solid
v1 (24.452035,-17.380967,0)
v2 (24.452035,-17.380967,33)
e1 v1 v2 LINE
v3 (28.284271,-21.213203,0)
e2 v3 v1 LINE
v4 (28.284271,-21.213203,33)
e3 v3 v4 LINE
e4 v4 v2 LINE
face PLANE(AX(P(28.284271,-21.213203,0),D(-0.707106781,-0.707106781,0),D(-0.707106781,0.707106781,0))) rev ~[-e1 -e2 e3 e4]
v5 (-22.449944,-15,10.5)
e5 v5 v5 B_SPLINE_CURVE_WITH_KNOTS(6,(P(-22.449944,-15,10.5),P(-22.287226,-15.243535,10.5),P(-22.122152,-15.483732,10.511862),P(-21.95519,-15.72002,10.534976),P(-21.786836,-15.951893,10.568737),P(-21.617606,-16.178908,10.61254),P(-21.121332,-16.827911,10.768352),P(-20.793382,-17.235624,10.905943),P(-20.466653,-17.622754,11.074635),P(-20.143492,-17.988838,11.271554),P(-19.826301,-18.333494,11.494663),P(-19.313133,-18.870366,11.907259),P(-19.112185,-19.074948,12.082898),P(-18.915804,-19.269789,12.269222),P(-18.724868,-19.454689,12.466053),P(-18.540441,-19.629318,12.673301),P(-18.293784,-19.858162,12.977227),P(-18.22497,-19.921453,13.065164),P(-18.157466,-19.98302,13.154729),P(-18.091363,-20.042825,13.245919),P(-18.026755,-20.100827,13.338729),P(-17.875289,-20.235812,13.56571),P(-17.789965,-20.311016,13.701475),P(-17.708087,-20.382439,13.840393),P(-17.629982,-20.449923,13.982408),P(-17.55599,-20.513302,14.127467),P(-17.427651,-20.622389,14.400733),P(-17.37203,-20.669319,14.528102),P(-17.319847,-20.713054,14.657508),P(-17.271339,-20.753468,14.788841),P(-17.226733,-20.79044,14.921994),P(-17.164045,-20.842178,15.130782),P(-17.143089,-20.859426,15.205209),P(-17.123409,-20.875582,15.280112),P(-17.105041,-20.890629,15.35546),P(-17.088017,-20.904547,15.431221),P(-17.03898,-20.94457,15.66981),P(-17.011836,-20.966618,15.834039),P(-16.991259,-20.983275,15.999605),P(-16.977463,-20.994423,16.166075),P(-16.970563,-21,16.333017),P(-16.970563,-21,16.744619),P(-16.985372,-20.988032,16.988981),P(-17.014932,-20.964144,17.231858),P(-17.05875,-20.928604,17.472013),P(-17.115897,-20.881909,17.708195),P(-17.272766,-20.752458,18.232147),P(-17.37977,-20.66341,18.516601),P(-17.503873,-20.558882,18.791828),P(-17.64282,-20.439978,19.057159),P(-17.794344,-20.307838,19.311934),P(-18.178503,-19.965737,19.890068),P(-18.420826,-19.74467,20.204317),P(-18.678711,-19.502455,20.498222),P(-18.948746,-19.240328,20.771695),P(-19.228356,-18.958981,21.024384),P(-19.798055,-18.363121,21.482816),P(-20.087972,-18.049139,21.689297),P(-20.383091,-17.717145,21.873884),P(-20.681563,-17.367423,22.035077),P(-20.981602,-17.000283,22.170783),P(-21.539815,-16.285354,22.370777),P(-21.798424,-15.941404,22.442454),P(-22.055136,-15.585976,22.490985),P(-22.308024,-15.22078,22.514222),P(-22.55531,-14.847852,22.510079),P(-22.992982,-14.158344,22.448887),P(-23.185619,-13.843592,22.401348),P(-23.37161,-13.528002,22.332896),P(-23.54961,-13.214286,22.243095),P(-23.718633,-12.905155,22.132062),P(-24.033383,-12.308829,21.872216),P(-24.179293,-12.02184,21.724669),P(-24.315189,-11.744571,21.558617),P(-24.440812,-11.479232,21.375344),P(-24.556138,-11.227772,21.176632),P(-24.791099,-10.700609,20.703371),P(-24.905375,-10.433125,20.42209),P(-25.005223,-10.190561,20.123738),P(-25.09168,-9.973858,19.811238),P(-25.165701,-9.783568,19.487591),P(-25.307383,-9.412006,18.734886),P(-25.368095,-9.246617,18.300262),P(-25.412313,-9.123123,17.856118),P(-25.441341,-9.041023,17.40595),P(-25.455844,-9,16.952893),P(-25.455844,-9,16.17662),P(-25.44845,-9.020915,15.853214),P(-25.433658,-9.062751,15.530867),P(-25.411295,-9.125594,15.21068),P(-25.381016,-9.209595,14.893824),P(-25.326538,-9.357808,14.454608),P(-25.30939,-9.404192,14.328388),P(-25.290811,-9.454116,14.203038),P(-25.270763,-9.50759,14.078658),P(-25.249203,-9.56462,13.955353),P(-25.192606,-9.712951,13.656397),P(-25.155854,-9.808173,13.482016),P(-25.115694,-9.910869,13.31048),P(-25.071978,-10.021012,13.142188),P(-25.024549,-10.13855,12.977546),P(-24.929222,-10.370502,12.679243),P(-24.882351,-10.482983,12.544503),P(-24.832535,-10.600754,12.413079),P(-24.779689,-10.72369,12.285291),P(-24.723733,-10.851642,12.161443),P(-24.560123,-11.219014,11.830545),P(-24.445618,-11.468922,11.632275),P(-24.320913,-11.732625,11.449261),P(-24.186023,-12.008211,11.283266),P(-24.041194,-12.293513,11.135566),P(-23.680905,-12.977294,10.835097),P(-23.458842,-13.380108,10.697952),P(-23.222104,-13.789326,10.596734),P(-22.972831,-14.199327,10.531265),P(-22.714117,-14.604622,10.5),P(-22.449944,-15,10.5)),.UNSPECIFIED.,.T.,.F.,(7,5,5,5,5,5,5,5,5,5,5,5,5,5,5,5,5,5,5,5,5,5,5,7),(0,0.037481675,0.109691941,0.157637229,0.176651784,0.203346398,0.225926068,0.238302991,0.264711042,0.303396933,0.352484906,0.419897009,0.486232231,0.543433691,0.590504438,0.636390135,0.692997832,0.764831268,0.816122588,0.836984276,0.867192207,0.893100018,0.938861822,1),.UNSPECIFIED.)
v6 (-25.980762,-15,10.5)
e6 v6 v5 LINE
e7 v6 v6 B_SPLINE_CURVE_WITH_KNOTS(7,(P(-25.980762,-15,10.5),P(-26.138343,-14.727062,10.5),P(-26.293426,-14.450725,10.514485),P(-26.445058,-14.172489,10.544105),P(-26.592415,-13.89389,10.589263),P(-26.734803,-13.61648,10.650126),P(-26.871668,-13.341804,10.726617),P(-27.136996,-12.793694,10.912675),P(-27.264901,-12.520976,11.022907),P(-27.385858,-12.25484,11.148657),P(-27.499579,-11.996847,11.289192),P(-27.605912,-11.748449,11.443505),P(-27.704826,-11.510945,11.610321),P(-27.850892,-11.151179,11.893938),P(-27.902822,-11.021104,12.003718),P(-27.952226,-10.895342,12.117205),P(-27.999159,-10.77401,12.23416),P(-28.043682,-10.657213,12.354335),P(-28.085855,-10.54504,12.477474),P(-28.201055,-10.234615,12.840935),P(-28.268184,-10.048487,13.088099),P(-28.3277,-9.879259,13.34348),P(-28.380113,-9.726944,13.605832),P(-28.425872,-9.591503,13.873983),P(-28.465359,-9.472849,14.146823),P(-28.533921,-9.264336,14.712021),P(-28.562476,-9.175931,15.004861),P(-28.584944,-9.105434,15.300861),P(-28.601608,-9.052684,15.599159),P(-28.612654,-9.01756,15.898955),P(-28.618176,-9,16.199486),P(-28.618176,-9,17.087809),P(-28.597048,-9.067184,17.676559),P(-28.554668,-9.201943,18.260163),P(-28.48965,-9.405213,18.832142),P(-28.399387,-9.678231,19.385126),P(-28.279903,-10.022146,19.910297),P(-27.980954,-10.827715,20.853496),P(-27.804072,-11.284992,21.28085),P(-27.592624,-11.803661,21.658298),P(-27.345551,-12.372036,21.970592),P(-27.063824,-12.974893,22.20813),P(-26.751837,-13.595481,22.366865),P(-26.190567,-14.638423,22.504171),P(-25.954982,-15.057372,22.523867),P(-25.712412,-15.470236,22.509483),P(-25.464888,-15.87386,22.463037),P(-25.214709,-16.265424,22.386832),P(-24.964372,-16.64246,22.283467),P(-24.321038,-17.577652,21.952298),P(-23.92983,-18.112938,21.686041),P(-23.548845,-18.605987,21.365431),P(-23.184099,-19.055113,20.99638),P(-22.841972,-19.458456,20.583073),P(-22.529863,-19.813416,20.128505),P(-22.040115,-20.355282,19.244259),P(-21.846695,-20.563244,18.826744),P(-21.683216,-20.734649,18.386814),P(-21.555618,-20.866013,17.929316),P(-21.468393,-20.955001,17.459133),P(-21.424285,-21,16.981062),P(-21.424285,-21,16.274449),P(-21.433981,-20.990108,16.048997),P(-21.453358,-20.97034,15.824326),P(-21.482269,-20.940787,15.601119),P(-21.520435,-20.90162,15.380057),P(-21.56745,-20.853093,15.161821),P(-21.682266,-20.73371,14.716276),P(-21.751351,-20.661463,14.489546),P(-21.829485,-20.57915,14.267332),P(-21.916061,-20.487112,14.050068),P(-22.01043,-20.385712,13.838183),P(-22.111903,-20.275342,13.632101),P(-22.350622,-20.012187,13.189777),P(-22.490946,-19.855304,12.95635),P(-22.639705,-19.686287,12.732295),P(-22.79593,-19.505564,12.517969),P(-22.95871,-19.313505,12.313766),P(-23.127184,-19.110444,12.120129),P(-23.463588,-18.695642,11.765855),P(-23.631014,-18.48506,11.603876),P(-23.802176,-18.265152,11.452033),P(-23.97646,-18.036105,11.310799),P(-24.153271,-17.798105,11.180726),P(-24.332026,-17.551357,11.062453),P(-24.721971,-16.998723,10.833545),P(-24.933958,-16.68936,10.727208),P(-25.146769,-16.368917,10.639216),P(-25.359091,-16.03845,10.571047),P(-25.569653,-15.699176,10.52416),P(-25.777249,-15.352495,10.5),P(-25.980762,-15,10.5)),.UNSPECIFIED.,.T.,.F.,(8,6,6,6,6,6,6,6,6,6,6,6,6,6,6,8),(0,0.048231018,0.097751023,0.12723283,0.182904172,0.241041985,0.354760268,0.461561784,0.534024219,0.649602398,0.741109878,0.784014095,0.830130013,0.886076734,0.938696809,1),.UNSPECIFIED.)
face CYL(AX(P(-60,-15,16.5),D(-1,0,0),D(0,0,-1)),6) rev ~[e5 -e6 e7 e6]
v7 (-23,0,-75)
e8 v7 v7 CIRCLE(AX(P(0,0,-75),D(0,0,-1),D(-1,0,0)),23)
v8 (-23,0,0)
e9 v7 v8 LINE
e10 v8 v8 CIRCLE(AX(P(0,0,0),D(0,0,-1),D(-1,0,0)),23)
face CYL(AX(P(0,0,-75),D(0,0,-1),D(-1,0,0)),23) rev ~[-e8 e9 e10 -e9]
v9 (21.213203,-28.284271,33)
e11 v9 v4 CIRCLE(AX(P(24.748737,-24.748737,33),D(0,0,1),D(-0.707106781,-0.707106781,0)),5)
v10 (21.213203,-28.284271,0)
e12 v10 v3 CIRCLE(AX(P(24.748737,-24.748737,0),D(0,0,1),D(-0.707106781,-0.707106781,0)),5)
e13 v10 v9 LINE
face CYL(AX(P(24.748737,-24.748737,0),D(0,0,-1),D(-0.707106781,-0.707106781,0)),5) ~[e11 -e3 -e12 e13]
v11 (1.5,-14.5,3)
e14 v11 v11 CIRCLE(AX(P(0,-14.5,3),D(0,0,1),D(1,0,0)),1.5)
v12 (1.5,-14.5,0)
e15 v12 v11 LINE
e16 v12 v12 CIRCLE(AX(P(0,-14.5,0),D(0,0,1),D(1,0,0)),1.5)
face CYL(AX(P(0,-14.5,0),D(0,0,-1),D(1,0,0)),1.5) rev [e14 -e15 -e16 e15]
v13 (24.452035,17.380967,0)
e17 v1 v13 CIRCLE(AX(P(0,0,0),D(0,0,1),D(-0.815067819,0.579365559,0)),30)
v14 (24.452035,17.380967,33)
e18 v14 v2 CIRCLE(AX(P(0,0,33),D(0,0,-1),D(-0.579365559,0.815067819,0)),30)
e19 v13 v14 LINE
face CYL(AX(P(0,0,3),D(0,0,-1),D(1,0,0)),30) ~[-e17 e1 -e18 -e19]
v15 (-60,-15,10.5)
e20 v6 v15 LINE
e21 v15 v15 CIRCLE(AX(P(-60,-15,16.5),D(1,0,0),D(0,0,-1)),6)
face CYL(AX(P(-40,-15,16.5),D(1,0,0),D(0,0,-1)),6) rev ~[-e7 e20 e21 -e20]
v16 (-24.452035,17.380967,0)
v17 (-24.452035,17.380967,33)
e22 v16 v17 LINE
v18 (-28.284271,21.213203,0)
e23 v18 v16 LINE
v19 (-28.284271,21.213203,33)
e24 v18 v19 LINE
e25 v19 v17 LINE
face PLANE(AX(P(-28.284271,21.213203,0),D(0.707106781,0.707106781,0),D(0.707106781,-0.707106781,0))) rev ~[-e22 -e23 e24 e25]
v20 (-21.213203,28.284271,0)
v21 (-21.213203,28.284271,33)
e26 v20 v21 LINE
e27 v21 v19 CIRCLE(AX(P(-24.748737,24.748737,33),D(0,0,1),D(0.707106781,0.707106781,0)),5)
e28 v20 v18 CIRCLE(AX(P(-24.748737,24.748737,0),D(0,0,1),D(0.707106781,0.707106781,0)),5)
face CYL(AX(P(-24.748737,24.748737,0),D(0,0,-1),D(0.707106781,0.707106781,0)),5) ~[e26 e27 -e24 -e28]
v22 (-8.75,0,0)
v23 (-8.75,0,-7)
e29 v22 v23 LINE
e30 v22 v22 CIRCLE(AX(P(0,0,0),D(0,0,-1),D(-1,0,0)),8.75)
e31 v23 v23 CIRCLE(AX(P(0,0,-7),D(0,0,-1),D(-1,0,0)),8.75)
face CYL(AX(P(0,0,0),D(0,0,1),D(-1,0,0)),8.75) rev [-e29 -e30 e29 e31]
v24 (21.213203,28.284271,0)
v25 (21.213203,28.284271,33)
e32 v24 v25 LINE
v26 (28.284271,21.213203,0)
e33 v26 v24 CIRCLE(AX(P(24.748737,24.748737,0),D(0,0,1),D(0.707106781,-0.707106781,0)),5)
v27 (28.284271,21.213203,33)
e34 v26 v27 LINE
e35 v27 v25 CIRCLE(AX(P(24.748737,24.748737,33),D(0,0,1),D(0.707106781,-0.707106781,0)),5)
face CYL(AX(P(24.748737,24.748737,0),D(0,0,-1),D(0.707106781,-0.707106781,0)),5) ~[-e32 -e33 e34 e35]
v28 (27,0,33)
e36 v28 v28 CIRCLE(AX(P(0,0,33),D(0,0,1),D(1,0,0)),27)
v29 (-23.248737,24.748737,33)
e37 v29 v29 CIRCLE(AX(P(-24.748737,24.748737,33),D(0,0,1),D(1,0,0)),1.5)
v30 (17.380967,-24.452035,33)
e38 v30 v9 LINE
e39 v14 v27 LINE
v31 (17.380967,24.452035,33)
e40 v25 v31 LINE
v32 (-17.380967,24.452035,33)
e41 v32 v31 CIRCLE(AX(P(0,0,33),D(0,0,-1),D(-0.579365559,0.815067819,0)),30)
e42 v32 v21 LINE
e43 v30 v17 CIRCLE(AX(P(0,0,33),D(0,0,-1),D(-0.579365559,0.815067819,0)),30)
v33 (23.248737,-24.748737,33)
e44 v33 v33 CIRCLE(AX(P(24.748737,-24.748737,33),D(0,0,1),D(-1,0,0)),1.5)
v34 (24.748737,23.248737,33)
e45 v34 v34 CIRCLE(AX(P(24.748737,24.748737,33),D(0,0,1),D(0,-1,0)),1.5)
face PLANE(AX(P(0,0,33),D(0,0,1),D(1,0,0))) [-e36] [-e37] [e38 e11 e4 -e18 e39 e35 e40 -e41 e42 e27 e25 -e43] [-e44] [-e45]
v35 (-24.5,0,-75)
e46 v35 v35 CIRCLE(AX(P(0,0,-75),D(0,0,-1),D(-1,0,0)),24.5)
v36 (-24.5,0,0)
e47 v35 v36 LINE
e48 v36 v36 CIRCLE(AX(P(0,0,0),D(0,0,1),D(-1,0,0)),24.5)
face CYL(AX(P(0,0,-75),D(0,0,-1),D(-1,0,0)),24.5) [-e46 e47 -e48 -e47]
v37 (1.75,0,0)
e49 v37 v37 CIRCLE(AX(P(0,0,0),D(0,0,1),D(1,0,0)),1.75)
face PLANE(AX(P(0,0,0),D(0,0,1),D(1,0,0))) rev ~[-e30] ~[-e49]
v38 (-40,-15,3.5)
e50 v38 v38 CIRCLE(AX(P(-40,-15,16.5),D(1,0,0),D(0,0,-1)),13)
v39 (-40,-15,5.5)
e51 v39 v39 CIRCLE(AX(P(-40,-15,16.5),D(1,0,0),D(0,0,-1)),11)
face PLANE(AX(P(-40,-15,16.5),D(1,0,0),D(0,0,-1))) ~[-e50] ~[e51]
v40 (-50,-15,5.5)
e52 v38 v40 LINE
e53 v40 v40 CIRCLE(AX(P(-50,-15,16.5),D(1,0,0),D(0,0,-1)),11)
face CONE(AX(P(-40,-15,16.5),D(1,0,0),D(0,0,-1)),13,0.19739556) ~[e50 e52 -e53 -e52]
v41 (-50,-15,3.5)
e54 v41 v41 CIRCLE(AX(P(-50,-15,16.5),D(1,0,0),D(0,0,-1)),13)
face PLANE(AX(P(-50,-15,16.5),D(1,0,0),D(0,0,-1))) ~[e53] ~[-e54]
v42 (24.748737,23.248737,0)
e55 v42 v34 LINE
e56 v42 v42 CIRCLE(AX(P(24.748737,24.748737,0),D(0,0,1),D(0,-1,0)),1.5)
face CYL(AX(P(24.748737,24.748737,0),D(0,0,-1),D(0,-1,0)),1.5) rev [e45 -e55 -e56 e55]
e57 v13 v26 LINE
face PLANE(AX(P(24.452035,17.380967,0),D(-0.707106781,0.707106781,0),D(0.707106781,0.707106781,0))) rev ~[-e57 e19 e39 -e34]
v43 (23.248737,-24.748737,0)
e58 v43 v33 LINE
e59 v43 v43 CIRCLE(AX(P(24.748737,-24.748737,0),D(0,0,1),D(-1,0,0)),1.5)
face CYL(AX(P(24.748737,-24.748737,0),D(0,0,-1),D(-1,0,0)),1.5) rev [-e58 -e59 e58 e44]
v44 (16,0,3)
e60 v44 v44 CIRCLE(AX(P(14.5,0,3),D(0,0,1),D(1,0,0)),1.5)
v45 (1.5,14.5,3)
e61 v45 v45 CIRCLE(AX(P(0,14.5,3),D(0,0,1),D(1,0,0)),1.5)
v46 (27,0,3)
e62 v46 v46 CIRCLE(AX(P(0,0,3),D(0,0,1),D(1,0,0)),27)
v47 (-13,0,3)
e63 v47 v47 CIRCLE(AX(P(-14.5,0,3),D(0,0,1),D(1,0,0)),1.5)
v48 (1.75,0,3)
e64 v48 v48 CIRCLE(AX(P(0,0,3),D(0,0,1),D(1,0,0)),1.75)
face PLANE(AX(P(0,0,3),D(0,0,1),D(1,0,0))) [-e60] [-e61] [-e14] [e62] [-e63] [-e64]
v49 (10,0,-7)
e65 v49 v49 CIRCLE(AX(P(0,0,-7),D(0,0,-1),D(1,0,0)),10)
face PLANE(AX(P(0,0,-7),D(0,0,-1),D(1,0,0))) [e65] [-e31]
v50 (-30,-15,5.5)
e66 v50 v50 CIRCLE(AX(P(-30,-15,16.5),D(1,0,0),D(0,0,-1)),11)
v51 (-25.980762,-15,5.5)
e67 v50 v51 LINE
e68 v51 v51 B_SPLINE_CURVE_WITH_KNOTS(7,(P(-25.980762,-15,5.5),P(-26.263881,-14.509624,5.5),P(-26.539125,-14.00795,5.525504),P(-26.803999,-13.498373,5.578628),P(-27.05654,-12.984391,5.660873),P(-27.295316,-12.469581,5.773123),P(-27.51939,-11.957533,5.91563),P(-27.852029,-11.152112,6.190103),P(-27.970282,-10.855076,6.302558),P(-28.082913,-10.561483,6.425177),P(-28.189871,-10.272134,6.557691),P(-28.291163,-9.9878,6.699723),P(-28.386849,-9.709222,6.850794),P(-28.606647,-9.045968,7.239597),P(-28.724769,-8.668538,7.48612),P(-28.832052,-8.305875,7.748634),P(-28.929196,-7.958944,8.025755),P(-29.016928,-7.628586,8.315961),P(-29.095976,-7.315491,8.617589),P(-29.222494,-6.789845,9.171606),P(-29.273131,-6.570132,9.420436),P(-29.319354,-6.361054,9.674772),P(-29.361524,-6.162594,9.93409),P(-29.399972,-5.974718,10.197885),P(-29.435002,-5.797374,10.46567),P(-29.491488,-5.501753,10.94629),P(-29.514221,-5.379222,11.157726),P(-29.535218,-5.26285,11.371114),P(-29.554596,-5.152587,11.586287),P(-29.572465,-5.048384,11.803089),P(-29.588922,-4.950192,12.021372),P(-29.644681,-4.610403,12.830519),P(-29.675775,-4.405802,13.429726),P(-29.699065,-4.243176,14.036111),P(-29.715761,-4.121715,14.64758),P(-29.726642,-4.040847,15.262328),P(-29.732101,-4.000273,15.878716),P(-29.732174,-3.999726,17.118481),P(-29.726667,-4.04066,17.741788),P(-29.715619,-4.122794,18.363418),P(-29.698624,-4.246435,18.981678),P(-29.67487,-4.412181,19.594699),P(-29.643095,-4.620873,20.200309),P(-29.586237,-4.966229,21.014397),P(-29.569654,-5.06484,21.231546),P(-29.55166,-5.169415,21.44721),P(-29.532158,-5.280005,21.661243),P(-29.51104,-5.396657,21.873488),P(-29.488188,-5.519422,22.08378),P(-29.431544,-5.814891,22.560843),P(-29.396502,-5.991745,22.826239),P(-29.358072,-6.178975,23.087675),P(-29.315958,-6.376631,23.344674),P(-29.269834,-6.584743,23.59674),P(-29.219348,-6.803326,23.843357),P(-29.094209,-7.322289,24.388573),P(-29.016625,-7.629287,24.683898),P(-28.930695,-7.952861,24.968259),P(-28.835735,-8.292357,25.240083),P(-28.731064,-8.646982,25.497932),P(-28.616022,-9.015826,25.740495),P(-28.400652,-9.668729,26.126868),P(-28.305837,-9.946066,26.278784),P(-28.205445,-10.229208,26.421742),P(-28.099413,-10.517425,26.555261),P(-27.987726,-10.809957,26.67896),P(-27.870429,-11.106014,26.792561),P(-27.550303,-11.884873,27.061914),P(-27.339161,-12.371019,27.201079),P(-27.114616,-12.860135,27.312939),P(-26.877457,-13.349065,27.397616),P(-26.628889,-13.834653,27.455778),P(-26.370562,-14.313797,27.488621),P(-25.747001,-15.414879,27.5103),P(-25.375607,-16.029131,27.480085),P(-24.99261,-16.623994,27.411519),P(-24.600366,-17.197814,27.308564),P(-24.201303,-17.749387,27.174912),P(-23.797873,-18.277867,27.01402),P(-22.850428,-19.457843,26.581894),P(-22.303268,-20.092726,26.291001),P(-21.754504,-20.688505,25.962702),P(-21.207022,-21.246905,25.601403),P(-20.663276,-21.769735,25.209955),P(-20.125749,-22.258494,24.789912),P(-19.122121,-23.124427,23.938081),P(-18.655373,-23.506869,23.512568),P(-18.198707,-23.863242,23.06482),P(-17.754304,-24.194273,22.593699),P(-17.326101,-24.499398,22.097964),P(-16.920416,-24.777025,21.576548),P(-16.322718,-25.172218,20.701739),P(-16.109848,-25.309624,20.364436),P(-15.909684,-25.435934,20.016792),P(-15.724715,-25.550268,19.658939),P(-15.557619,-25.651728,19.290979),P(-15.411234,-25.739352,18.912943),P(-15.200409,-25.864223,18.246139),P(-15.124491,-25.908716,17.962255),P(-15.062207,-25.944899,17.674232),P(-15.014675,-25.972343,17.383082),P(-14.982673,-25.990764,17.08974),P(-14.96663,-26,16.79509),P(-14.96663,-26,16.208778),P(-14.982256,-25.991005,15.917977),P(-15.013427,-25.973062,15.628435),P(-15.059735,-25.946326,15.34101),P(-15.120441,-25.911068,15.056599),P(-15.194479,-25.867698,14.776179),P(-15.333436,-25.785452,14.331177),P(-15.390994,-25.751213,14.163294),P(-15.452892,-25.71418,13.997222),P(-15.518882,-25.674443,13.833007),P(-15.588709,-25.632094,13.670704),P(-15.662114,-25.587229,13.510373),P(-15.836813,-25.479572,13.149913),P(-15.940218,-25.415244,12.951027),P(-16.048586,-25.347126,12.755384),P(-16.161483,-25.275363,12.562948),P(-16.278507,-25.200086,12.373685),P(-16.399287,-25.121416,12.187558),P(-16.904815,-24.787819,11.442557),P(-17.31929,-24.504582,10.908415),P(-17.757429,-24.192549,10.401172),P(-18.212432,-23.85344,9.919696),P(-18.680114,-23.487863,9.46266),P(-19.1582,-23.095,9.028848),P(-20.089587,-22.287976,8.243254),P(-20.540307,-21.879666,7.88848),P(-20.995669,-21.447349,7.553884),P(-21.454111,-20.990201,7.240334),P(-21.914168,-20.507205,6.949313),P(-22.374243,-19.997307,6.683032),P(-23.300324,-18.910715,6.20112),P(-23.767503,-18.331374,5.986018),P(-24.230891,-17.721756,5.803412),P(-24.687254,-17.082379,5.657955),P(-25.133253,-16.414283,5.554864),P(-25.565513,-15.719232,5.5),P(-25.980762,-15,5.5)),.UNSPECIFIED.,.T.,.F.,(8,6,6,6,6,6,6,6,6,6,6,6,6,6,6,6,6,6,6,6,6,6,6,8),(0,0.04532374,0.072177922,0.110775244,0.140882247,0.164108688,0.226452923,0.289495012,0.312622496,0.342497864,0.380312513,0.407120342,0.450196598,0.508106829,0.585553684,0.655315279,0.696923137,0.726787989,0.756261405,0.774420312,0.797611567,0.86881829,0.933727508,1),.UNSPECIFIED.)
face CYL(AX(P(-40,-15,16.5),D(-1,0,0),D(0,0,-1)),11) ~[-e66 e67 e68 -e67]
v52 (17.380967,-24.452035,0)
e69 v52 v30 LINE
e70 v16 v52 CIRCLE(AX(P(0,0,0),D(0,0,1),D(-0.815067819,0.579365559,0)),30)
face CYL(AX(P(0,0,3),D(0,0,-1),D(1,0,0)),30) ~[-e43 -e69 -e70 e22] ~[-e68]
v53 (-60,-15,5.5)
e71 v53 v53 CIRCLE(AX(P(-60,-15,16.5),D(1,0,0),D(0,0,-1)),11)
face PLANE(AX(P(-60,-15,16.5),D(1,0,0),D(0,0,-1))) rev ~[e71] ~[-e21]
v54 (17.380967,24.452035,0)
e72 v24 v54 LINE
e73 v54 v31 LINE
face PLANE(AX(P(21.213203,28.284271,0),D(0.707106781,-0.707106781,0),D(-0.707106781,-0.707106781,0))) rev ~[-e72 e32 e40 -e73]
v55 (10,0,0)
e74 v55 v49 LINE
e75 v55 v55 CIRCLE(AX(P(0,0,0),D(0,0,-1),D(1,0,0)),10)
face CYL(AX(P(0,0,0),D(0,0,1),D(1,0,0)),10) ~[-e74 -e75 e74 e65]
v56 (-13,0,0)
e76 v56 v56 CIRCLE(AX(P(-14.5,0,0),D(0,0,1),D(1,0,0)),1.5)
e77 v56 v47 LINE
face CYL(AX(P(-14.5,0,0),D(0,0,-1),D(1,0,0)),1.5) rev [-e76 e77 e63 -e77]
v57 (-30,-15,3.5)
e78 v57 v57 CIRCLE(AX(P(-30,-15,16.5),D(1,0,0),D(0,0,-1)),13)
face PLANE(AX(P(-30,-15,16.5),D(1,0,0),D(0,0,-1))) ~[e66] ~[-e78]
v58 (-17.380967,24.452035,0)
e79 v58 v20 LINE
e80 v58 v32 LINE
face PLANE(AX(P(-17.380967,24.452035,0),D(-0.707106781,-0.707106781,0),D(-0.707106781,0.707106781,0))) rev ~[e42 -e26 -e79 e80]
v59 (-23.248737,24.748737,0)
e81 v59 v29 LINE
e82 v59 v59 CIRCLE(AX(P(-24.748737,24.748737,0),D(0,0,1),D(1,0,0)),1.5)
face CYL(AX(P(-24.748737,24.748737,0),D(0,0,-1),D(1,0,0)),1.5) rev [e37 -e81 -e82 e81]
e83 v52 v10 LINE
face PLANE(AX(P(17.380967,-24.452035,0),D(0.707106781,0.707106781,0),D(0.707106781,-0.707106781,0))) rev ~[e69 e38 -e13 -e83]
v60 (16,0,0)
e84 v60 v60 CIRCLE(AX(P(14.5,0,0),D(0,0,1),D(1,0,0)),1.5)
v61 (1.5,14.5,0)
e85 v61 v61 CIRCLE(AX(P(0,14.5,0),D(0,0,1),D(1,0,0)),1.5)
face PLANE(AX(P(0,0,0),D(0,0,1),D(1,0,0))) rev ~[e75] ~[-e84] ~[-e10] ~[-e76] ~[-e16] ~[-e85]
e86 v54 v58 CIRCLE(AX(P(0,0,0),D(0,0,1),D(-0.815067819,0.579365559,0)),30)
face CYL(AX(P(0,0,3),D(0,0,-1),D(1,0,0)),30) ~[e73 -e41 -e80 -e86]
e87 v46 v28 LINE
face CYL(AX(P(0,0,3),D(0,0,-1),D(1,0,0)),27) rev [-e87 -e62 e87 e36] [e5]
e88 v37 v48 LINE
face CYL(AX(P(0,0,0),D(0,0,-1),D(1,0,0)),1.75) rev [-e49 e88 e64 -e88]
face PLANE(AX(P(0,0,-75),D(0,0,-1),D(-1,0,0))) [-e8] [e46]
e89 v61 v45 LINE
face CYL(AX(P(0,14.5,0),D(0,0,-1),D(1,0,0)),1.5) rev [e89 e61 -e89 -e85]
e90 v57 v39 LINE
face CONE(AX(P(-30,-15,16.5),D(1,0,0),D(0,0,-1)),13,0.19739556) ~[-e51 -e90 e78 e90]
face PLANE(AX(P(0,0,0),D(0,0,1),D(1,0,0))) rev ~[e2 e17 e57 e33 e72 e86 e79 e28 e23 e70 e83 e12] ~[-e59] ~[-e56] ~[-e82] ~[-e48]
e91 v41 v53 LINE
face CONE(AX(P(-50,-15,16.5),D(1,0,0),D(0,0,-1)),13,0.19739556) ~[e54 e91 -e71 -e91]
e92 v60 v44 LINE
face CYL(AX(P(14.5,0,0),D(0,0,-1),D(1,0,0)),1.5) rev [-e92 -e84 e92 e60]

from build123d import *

# Parameters (mm, degrees)
SKETCH1_R                       = 24.5
SKETCH1_R_2                     = 1.5
SKETCH1_R_3                     = 1.75
BOSS_EXTRUDE1_DEPTH             = 3
SKETCH2_R                       = 10
SKETCH2_R_2                     = 8.75
BOSS_EXTRUDE2_DEPTH             = 7
BOSS_EXTRUDE3_START             = 75
SKETCH3_R                       = 24.5
SKETCH3_R_2                     = 23
BOSS_EXTRUDE3_DEPTH             = 75
BOSS_EXTRUDE4_START             = -3
SKETCH4_R                       = 30
SKETCH4_R_2                     = 24.5
BOSS_EXTRUDE4_DEPTH             = 3
SKETCH5_R                       = 30
SKETCH5_R_2                     = 27
BOSS_EXTRUDE5_DEPTH             = 30
BOSS_EXTRUDE6_REACH             = 108.888
BOSS_EXTRUDE6_END_RADIUS        = 30
SKETCH6_R                       = 11
SKETCH6_R_2                     = 6
BOSS_EXTRUDE6_DIRECTION_2_DEPTH = 20
CUT_EXTRUDE1_REACH              = 122.934
SKETCH9_R                       = 6
SKETCH11_R                      = 1.5
BOSS_EXTRUDE7_DEPTH             = 33
CIRPATTERN1_COUNT               = 3
CIRPATTERN1_ANGLE               = 180


with BuildPart() as part:
    # Sketch1 → Boss-Extrude1 (new body)
    with BuildSketch(Plane.XY):
        Circle(SKETCH1_R)
        with Locations((14.5, 0)):
            Circle(SKETCH1_R_2, mode=Mode.SUBTRACT)
        with Locations((0, -14.5)):
            Circle(SKETCH1_R_2, mode=Mode.SUBTRACT)
        with Locations((-14.5, 0)):
            Circle(SKETCH1_R_2, mode=Mode.SUBTRACT)
        with Locations((0, 14.5)):
            Circle(SKETCH1_R_2, mode=Mode.SUBTRACT)
        Circle(SKETCH1_R_3, mode=Mode.SUBTRACT)
    extrude(amount=BOSS_EXTRUDE1_DEPTH)

    # Sketch2 → Boss-Extrude2 (add)
    with BuildSketch(Plane(origin=(0, 0, 0), x_dir=(-1, 0, 0), z_dir=(0, 0, -1))):
        with Locations(Location((0, 0, 0), (0, 0, 180))):
            Circle(SKETCH2_R)
        Circle(SKETCH2_R_2, mode=Mode.SUBTRACT)
    extrude(amount=BOSS_EXTRUDE2_DEPTH)

    # Sketch3 → Boss-Extrude3 (add)
    with BuildSketch(Plane(origin=(0, 0, 0), x_dir=(-1, 0, 0), z_dir=(0, 0, -1)).offset(BOSS_EXTRUDE3_START)):
        Circle(SKETCH3_R)
        Circle(SKETCH3_R_2, mode=Mode.SUBTRACT)
    extrude(amount=-BOSS_EXTRUDE3_DEPTH)

    # Sketch4 → Boss-Extrude4 (add)
    with BuildSketch(Plane.XY.offset(3).offset(BOSS_EXTRUDE4_START)):
        Circle(SKETCH4_R)
        with Locations(Location((0, 0, 0), (0, 0, 180))):
            Circle(SKETCH4_R_2, mode=Mode.SUBTRACT)
    extrude(amount=BOSS_EXTRUDE4_DEPTH)

    # Sketch5 → Boss-Extrude5 (add)
    with BuildSketch(Plane.XY.offset(3)):
        Circle(SKETCH5_R)
        Circle(SKETCH5_R_2, mode=Mode.SUBTRACT)
    extrude(amount=BOSS_EXTRUDE5_DEPTH)

    # Boss-Extrude6: up to this cylinder (the profile starts outside it)
    boss_extrude6_end = Plane(origin=(0, 0, 27.188873), z_dir=(0, 0, 1)) * Cylinder(BOSS_EXTRUDE6_END_RADIUS, 278.776, mode=Mode.PRIVATE)
    # Sketch6 → Boss-Extrude6 (add, up to the surface)
    with BuildSketch(Plane(origin=(-40, 0, 0), x_dir=(0, 0, -1), z_dir=(1, 0, 0)), mode=Mode.PRIVATE) as boss_extrude6_sk1:
        with Locations((-16.5, -15)):
            Circle(SKETCH6_R)
        with Locations((-16.5, -15)):
            Circle(SKETCH6_R_2, mode=Mode.SUBTRACT)
    boss_extrude6_tool1 = extrude(boss_extrude6_sk1.sketch, amount=BOSS_EXTRUDE6_REACH, mode=Mode.PRIVATE) - boss_extrude6_end
    add(boss_extrude6_tool1.solids().sort_by_distance((-40, -15, 27.188873))[0])

    # Sketch6 → Boss-Extrude6 direction 2 (add)
    with BuildSketch(Plane(origin=(-40, 0, 0), x_dir=(0, 0, -1), z_dir=(1, 0, 0))):
        with Locations((-16.5, -15)):
            Circle(SKETCH6_R)
        with Locations((-16.5, -15)):
            Circle(SKETCH6_R_2, mode=Mode.SUBTRACT)
    extrude(amount=-BOSS_EXTRUDE6_DIRECTION_2_DEPTH)

    # Sketch8 → Revolve2 (revolve)
    with BuildSketch(Plane.XY.offset(16.5), mode=Mode.PRIVATE) as revolve2_sk:
        Polygon((-50, -4), (-50, -2), (-60, -4), align=None)
        Polygon((-50, -4), (-40, -4), (-40, -2), align=None)
        Polygon((-40, -4), (-30, -4), (-30, -2), align=None)
    revolve(revolve2_sk.sketch.rotate(Axis((-60, -15, 16.5), (1, 0, 0)), 270), axis=Axis((-60, -15, 16.5), (1, 0, 0)))

    # Sketch9 → Cut-Extrude1 (cut, up to next)
    with BuildSketch(Plane.ZY.offset(60), mode=Mode.PRIVATE) as cut_extrude1_sk1:
        with Locations(Location((16.5, -15, 0), (0, 0, 180))):
            Circle(SKETCH9_R)
    cut_extrude1_tool1 = extrude(cut_extrude1_sk1.sketch, amount=-CUT_EXTRUDE1_REACH, mode=Mode.PRIVATE) & part.part
    add(cut_extrude1_tool1.solids().sort_by_distance((-60, -15, 16.5))[0], mode=Mode.SUBTRACT)

    # Sketch11 → Boss-Extrude7 (add)
    with BuildSketch(Plane.XY):
        with BuildLine():
            Line((-28.284271247, 21.213203436), (-24.452034569, 17.380966757))
            ThreePointArc((-24.452034569, 17.380966757), (-21.213203436, 21.213203436), (-17.380966757, 24.452034569))
            Line((-17.380966757, 24.452034569), (-21.213203436, 28.284271247))
            ThreePointArc((-21.213203436, 28.284271247), (-28.284271247, 28.284271247), (-28.284271247, 21.213203436))
        make_face()
        with Locations((-24.748737342, 24.748737342)):
            Circle(SKETCH11_R, mode=Mode.SUBTRACT)
    boss_extrude7 = extrude(amount=BOSS_EXTRUDE7_DEPTH)

    # CirPattern1: Boss-Extrude7 ×3 about axis
    cirpattern1_axis = Axis((0, 0, 0), (0, 0, -1))
    for i in range(1, CIRPATTERN1_COUNT):
        add(boss_extrude7.rotate(cirpattern1_axis, i * CIRPATTERN1_ANGLE / (CIRPATTERN1_COUNT - 1)))


solid = part.part
